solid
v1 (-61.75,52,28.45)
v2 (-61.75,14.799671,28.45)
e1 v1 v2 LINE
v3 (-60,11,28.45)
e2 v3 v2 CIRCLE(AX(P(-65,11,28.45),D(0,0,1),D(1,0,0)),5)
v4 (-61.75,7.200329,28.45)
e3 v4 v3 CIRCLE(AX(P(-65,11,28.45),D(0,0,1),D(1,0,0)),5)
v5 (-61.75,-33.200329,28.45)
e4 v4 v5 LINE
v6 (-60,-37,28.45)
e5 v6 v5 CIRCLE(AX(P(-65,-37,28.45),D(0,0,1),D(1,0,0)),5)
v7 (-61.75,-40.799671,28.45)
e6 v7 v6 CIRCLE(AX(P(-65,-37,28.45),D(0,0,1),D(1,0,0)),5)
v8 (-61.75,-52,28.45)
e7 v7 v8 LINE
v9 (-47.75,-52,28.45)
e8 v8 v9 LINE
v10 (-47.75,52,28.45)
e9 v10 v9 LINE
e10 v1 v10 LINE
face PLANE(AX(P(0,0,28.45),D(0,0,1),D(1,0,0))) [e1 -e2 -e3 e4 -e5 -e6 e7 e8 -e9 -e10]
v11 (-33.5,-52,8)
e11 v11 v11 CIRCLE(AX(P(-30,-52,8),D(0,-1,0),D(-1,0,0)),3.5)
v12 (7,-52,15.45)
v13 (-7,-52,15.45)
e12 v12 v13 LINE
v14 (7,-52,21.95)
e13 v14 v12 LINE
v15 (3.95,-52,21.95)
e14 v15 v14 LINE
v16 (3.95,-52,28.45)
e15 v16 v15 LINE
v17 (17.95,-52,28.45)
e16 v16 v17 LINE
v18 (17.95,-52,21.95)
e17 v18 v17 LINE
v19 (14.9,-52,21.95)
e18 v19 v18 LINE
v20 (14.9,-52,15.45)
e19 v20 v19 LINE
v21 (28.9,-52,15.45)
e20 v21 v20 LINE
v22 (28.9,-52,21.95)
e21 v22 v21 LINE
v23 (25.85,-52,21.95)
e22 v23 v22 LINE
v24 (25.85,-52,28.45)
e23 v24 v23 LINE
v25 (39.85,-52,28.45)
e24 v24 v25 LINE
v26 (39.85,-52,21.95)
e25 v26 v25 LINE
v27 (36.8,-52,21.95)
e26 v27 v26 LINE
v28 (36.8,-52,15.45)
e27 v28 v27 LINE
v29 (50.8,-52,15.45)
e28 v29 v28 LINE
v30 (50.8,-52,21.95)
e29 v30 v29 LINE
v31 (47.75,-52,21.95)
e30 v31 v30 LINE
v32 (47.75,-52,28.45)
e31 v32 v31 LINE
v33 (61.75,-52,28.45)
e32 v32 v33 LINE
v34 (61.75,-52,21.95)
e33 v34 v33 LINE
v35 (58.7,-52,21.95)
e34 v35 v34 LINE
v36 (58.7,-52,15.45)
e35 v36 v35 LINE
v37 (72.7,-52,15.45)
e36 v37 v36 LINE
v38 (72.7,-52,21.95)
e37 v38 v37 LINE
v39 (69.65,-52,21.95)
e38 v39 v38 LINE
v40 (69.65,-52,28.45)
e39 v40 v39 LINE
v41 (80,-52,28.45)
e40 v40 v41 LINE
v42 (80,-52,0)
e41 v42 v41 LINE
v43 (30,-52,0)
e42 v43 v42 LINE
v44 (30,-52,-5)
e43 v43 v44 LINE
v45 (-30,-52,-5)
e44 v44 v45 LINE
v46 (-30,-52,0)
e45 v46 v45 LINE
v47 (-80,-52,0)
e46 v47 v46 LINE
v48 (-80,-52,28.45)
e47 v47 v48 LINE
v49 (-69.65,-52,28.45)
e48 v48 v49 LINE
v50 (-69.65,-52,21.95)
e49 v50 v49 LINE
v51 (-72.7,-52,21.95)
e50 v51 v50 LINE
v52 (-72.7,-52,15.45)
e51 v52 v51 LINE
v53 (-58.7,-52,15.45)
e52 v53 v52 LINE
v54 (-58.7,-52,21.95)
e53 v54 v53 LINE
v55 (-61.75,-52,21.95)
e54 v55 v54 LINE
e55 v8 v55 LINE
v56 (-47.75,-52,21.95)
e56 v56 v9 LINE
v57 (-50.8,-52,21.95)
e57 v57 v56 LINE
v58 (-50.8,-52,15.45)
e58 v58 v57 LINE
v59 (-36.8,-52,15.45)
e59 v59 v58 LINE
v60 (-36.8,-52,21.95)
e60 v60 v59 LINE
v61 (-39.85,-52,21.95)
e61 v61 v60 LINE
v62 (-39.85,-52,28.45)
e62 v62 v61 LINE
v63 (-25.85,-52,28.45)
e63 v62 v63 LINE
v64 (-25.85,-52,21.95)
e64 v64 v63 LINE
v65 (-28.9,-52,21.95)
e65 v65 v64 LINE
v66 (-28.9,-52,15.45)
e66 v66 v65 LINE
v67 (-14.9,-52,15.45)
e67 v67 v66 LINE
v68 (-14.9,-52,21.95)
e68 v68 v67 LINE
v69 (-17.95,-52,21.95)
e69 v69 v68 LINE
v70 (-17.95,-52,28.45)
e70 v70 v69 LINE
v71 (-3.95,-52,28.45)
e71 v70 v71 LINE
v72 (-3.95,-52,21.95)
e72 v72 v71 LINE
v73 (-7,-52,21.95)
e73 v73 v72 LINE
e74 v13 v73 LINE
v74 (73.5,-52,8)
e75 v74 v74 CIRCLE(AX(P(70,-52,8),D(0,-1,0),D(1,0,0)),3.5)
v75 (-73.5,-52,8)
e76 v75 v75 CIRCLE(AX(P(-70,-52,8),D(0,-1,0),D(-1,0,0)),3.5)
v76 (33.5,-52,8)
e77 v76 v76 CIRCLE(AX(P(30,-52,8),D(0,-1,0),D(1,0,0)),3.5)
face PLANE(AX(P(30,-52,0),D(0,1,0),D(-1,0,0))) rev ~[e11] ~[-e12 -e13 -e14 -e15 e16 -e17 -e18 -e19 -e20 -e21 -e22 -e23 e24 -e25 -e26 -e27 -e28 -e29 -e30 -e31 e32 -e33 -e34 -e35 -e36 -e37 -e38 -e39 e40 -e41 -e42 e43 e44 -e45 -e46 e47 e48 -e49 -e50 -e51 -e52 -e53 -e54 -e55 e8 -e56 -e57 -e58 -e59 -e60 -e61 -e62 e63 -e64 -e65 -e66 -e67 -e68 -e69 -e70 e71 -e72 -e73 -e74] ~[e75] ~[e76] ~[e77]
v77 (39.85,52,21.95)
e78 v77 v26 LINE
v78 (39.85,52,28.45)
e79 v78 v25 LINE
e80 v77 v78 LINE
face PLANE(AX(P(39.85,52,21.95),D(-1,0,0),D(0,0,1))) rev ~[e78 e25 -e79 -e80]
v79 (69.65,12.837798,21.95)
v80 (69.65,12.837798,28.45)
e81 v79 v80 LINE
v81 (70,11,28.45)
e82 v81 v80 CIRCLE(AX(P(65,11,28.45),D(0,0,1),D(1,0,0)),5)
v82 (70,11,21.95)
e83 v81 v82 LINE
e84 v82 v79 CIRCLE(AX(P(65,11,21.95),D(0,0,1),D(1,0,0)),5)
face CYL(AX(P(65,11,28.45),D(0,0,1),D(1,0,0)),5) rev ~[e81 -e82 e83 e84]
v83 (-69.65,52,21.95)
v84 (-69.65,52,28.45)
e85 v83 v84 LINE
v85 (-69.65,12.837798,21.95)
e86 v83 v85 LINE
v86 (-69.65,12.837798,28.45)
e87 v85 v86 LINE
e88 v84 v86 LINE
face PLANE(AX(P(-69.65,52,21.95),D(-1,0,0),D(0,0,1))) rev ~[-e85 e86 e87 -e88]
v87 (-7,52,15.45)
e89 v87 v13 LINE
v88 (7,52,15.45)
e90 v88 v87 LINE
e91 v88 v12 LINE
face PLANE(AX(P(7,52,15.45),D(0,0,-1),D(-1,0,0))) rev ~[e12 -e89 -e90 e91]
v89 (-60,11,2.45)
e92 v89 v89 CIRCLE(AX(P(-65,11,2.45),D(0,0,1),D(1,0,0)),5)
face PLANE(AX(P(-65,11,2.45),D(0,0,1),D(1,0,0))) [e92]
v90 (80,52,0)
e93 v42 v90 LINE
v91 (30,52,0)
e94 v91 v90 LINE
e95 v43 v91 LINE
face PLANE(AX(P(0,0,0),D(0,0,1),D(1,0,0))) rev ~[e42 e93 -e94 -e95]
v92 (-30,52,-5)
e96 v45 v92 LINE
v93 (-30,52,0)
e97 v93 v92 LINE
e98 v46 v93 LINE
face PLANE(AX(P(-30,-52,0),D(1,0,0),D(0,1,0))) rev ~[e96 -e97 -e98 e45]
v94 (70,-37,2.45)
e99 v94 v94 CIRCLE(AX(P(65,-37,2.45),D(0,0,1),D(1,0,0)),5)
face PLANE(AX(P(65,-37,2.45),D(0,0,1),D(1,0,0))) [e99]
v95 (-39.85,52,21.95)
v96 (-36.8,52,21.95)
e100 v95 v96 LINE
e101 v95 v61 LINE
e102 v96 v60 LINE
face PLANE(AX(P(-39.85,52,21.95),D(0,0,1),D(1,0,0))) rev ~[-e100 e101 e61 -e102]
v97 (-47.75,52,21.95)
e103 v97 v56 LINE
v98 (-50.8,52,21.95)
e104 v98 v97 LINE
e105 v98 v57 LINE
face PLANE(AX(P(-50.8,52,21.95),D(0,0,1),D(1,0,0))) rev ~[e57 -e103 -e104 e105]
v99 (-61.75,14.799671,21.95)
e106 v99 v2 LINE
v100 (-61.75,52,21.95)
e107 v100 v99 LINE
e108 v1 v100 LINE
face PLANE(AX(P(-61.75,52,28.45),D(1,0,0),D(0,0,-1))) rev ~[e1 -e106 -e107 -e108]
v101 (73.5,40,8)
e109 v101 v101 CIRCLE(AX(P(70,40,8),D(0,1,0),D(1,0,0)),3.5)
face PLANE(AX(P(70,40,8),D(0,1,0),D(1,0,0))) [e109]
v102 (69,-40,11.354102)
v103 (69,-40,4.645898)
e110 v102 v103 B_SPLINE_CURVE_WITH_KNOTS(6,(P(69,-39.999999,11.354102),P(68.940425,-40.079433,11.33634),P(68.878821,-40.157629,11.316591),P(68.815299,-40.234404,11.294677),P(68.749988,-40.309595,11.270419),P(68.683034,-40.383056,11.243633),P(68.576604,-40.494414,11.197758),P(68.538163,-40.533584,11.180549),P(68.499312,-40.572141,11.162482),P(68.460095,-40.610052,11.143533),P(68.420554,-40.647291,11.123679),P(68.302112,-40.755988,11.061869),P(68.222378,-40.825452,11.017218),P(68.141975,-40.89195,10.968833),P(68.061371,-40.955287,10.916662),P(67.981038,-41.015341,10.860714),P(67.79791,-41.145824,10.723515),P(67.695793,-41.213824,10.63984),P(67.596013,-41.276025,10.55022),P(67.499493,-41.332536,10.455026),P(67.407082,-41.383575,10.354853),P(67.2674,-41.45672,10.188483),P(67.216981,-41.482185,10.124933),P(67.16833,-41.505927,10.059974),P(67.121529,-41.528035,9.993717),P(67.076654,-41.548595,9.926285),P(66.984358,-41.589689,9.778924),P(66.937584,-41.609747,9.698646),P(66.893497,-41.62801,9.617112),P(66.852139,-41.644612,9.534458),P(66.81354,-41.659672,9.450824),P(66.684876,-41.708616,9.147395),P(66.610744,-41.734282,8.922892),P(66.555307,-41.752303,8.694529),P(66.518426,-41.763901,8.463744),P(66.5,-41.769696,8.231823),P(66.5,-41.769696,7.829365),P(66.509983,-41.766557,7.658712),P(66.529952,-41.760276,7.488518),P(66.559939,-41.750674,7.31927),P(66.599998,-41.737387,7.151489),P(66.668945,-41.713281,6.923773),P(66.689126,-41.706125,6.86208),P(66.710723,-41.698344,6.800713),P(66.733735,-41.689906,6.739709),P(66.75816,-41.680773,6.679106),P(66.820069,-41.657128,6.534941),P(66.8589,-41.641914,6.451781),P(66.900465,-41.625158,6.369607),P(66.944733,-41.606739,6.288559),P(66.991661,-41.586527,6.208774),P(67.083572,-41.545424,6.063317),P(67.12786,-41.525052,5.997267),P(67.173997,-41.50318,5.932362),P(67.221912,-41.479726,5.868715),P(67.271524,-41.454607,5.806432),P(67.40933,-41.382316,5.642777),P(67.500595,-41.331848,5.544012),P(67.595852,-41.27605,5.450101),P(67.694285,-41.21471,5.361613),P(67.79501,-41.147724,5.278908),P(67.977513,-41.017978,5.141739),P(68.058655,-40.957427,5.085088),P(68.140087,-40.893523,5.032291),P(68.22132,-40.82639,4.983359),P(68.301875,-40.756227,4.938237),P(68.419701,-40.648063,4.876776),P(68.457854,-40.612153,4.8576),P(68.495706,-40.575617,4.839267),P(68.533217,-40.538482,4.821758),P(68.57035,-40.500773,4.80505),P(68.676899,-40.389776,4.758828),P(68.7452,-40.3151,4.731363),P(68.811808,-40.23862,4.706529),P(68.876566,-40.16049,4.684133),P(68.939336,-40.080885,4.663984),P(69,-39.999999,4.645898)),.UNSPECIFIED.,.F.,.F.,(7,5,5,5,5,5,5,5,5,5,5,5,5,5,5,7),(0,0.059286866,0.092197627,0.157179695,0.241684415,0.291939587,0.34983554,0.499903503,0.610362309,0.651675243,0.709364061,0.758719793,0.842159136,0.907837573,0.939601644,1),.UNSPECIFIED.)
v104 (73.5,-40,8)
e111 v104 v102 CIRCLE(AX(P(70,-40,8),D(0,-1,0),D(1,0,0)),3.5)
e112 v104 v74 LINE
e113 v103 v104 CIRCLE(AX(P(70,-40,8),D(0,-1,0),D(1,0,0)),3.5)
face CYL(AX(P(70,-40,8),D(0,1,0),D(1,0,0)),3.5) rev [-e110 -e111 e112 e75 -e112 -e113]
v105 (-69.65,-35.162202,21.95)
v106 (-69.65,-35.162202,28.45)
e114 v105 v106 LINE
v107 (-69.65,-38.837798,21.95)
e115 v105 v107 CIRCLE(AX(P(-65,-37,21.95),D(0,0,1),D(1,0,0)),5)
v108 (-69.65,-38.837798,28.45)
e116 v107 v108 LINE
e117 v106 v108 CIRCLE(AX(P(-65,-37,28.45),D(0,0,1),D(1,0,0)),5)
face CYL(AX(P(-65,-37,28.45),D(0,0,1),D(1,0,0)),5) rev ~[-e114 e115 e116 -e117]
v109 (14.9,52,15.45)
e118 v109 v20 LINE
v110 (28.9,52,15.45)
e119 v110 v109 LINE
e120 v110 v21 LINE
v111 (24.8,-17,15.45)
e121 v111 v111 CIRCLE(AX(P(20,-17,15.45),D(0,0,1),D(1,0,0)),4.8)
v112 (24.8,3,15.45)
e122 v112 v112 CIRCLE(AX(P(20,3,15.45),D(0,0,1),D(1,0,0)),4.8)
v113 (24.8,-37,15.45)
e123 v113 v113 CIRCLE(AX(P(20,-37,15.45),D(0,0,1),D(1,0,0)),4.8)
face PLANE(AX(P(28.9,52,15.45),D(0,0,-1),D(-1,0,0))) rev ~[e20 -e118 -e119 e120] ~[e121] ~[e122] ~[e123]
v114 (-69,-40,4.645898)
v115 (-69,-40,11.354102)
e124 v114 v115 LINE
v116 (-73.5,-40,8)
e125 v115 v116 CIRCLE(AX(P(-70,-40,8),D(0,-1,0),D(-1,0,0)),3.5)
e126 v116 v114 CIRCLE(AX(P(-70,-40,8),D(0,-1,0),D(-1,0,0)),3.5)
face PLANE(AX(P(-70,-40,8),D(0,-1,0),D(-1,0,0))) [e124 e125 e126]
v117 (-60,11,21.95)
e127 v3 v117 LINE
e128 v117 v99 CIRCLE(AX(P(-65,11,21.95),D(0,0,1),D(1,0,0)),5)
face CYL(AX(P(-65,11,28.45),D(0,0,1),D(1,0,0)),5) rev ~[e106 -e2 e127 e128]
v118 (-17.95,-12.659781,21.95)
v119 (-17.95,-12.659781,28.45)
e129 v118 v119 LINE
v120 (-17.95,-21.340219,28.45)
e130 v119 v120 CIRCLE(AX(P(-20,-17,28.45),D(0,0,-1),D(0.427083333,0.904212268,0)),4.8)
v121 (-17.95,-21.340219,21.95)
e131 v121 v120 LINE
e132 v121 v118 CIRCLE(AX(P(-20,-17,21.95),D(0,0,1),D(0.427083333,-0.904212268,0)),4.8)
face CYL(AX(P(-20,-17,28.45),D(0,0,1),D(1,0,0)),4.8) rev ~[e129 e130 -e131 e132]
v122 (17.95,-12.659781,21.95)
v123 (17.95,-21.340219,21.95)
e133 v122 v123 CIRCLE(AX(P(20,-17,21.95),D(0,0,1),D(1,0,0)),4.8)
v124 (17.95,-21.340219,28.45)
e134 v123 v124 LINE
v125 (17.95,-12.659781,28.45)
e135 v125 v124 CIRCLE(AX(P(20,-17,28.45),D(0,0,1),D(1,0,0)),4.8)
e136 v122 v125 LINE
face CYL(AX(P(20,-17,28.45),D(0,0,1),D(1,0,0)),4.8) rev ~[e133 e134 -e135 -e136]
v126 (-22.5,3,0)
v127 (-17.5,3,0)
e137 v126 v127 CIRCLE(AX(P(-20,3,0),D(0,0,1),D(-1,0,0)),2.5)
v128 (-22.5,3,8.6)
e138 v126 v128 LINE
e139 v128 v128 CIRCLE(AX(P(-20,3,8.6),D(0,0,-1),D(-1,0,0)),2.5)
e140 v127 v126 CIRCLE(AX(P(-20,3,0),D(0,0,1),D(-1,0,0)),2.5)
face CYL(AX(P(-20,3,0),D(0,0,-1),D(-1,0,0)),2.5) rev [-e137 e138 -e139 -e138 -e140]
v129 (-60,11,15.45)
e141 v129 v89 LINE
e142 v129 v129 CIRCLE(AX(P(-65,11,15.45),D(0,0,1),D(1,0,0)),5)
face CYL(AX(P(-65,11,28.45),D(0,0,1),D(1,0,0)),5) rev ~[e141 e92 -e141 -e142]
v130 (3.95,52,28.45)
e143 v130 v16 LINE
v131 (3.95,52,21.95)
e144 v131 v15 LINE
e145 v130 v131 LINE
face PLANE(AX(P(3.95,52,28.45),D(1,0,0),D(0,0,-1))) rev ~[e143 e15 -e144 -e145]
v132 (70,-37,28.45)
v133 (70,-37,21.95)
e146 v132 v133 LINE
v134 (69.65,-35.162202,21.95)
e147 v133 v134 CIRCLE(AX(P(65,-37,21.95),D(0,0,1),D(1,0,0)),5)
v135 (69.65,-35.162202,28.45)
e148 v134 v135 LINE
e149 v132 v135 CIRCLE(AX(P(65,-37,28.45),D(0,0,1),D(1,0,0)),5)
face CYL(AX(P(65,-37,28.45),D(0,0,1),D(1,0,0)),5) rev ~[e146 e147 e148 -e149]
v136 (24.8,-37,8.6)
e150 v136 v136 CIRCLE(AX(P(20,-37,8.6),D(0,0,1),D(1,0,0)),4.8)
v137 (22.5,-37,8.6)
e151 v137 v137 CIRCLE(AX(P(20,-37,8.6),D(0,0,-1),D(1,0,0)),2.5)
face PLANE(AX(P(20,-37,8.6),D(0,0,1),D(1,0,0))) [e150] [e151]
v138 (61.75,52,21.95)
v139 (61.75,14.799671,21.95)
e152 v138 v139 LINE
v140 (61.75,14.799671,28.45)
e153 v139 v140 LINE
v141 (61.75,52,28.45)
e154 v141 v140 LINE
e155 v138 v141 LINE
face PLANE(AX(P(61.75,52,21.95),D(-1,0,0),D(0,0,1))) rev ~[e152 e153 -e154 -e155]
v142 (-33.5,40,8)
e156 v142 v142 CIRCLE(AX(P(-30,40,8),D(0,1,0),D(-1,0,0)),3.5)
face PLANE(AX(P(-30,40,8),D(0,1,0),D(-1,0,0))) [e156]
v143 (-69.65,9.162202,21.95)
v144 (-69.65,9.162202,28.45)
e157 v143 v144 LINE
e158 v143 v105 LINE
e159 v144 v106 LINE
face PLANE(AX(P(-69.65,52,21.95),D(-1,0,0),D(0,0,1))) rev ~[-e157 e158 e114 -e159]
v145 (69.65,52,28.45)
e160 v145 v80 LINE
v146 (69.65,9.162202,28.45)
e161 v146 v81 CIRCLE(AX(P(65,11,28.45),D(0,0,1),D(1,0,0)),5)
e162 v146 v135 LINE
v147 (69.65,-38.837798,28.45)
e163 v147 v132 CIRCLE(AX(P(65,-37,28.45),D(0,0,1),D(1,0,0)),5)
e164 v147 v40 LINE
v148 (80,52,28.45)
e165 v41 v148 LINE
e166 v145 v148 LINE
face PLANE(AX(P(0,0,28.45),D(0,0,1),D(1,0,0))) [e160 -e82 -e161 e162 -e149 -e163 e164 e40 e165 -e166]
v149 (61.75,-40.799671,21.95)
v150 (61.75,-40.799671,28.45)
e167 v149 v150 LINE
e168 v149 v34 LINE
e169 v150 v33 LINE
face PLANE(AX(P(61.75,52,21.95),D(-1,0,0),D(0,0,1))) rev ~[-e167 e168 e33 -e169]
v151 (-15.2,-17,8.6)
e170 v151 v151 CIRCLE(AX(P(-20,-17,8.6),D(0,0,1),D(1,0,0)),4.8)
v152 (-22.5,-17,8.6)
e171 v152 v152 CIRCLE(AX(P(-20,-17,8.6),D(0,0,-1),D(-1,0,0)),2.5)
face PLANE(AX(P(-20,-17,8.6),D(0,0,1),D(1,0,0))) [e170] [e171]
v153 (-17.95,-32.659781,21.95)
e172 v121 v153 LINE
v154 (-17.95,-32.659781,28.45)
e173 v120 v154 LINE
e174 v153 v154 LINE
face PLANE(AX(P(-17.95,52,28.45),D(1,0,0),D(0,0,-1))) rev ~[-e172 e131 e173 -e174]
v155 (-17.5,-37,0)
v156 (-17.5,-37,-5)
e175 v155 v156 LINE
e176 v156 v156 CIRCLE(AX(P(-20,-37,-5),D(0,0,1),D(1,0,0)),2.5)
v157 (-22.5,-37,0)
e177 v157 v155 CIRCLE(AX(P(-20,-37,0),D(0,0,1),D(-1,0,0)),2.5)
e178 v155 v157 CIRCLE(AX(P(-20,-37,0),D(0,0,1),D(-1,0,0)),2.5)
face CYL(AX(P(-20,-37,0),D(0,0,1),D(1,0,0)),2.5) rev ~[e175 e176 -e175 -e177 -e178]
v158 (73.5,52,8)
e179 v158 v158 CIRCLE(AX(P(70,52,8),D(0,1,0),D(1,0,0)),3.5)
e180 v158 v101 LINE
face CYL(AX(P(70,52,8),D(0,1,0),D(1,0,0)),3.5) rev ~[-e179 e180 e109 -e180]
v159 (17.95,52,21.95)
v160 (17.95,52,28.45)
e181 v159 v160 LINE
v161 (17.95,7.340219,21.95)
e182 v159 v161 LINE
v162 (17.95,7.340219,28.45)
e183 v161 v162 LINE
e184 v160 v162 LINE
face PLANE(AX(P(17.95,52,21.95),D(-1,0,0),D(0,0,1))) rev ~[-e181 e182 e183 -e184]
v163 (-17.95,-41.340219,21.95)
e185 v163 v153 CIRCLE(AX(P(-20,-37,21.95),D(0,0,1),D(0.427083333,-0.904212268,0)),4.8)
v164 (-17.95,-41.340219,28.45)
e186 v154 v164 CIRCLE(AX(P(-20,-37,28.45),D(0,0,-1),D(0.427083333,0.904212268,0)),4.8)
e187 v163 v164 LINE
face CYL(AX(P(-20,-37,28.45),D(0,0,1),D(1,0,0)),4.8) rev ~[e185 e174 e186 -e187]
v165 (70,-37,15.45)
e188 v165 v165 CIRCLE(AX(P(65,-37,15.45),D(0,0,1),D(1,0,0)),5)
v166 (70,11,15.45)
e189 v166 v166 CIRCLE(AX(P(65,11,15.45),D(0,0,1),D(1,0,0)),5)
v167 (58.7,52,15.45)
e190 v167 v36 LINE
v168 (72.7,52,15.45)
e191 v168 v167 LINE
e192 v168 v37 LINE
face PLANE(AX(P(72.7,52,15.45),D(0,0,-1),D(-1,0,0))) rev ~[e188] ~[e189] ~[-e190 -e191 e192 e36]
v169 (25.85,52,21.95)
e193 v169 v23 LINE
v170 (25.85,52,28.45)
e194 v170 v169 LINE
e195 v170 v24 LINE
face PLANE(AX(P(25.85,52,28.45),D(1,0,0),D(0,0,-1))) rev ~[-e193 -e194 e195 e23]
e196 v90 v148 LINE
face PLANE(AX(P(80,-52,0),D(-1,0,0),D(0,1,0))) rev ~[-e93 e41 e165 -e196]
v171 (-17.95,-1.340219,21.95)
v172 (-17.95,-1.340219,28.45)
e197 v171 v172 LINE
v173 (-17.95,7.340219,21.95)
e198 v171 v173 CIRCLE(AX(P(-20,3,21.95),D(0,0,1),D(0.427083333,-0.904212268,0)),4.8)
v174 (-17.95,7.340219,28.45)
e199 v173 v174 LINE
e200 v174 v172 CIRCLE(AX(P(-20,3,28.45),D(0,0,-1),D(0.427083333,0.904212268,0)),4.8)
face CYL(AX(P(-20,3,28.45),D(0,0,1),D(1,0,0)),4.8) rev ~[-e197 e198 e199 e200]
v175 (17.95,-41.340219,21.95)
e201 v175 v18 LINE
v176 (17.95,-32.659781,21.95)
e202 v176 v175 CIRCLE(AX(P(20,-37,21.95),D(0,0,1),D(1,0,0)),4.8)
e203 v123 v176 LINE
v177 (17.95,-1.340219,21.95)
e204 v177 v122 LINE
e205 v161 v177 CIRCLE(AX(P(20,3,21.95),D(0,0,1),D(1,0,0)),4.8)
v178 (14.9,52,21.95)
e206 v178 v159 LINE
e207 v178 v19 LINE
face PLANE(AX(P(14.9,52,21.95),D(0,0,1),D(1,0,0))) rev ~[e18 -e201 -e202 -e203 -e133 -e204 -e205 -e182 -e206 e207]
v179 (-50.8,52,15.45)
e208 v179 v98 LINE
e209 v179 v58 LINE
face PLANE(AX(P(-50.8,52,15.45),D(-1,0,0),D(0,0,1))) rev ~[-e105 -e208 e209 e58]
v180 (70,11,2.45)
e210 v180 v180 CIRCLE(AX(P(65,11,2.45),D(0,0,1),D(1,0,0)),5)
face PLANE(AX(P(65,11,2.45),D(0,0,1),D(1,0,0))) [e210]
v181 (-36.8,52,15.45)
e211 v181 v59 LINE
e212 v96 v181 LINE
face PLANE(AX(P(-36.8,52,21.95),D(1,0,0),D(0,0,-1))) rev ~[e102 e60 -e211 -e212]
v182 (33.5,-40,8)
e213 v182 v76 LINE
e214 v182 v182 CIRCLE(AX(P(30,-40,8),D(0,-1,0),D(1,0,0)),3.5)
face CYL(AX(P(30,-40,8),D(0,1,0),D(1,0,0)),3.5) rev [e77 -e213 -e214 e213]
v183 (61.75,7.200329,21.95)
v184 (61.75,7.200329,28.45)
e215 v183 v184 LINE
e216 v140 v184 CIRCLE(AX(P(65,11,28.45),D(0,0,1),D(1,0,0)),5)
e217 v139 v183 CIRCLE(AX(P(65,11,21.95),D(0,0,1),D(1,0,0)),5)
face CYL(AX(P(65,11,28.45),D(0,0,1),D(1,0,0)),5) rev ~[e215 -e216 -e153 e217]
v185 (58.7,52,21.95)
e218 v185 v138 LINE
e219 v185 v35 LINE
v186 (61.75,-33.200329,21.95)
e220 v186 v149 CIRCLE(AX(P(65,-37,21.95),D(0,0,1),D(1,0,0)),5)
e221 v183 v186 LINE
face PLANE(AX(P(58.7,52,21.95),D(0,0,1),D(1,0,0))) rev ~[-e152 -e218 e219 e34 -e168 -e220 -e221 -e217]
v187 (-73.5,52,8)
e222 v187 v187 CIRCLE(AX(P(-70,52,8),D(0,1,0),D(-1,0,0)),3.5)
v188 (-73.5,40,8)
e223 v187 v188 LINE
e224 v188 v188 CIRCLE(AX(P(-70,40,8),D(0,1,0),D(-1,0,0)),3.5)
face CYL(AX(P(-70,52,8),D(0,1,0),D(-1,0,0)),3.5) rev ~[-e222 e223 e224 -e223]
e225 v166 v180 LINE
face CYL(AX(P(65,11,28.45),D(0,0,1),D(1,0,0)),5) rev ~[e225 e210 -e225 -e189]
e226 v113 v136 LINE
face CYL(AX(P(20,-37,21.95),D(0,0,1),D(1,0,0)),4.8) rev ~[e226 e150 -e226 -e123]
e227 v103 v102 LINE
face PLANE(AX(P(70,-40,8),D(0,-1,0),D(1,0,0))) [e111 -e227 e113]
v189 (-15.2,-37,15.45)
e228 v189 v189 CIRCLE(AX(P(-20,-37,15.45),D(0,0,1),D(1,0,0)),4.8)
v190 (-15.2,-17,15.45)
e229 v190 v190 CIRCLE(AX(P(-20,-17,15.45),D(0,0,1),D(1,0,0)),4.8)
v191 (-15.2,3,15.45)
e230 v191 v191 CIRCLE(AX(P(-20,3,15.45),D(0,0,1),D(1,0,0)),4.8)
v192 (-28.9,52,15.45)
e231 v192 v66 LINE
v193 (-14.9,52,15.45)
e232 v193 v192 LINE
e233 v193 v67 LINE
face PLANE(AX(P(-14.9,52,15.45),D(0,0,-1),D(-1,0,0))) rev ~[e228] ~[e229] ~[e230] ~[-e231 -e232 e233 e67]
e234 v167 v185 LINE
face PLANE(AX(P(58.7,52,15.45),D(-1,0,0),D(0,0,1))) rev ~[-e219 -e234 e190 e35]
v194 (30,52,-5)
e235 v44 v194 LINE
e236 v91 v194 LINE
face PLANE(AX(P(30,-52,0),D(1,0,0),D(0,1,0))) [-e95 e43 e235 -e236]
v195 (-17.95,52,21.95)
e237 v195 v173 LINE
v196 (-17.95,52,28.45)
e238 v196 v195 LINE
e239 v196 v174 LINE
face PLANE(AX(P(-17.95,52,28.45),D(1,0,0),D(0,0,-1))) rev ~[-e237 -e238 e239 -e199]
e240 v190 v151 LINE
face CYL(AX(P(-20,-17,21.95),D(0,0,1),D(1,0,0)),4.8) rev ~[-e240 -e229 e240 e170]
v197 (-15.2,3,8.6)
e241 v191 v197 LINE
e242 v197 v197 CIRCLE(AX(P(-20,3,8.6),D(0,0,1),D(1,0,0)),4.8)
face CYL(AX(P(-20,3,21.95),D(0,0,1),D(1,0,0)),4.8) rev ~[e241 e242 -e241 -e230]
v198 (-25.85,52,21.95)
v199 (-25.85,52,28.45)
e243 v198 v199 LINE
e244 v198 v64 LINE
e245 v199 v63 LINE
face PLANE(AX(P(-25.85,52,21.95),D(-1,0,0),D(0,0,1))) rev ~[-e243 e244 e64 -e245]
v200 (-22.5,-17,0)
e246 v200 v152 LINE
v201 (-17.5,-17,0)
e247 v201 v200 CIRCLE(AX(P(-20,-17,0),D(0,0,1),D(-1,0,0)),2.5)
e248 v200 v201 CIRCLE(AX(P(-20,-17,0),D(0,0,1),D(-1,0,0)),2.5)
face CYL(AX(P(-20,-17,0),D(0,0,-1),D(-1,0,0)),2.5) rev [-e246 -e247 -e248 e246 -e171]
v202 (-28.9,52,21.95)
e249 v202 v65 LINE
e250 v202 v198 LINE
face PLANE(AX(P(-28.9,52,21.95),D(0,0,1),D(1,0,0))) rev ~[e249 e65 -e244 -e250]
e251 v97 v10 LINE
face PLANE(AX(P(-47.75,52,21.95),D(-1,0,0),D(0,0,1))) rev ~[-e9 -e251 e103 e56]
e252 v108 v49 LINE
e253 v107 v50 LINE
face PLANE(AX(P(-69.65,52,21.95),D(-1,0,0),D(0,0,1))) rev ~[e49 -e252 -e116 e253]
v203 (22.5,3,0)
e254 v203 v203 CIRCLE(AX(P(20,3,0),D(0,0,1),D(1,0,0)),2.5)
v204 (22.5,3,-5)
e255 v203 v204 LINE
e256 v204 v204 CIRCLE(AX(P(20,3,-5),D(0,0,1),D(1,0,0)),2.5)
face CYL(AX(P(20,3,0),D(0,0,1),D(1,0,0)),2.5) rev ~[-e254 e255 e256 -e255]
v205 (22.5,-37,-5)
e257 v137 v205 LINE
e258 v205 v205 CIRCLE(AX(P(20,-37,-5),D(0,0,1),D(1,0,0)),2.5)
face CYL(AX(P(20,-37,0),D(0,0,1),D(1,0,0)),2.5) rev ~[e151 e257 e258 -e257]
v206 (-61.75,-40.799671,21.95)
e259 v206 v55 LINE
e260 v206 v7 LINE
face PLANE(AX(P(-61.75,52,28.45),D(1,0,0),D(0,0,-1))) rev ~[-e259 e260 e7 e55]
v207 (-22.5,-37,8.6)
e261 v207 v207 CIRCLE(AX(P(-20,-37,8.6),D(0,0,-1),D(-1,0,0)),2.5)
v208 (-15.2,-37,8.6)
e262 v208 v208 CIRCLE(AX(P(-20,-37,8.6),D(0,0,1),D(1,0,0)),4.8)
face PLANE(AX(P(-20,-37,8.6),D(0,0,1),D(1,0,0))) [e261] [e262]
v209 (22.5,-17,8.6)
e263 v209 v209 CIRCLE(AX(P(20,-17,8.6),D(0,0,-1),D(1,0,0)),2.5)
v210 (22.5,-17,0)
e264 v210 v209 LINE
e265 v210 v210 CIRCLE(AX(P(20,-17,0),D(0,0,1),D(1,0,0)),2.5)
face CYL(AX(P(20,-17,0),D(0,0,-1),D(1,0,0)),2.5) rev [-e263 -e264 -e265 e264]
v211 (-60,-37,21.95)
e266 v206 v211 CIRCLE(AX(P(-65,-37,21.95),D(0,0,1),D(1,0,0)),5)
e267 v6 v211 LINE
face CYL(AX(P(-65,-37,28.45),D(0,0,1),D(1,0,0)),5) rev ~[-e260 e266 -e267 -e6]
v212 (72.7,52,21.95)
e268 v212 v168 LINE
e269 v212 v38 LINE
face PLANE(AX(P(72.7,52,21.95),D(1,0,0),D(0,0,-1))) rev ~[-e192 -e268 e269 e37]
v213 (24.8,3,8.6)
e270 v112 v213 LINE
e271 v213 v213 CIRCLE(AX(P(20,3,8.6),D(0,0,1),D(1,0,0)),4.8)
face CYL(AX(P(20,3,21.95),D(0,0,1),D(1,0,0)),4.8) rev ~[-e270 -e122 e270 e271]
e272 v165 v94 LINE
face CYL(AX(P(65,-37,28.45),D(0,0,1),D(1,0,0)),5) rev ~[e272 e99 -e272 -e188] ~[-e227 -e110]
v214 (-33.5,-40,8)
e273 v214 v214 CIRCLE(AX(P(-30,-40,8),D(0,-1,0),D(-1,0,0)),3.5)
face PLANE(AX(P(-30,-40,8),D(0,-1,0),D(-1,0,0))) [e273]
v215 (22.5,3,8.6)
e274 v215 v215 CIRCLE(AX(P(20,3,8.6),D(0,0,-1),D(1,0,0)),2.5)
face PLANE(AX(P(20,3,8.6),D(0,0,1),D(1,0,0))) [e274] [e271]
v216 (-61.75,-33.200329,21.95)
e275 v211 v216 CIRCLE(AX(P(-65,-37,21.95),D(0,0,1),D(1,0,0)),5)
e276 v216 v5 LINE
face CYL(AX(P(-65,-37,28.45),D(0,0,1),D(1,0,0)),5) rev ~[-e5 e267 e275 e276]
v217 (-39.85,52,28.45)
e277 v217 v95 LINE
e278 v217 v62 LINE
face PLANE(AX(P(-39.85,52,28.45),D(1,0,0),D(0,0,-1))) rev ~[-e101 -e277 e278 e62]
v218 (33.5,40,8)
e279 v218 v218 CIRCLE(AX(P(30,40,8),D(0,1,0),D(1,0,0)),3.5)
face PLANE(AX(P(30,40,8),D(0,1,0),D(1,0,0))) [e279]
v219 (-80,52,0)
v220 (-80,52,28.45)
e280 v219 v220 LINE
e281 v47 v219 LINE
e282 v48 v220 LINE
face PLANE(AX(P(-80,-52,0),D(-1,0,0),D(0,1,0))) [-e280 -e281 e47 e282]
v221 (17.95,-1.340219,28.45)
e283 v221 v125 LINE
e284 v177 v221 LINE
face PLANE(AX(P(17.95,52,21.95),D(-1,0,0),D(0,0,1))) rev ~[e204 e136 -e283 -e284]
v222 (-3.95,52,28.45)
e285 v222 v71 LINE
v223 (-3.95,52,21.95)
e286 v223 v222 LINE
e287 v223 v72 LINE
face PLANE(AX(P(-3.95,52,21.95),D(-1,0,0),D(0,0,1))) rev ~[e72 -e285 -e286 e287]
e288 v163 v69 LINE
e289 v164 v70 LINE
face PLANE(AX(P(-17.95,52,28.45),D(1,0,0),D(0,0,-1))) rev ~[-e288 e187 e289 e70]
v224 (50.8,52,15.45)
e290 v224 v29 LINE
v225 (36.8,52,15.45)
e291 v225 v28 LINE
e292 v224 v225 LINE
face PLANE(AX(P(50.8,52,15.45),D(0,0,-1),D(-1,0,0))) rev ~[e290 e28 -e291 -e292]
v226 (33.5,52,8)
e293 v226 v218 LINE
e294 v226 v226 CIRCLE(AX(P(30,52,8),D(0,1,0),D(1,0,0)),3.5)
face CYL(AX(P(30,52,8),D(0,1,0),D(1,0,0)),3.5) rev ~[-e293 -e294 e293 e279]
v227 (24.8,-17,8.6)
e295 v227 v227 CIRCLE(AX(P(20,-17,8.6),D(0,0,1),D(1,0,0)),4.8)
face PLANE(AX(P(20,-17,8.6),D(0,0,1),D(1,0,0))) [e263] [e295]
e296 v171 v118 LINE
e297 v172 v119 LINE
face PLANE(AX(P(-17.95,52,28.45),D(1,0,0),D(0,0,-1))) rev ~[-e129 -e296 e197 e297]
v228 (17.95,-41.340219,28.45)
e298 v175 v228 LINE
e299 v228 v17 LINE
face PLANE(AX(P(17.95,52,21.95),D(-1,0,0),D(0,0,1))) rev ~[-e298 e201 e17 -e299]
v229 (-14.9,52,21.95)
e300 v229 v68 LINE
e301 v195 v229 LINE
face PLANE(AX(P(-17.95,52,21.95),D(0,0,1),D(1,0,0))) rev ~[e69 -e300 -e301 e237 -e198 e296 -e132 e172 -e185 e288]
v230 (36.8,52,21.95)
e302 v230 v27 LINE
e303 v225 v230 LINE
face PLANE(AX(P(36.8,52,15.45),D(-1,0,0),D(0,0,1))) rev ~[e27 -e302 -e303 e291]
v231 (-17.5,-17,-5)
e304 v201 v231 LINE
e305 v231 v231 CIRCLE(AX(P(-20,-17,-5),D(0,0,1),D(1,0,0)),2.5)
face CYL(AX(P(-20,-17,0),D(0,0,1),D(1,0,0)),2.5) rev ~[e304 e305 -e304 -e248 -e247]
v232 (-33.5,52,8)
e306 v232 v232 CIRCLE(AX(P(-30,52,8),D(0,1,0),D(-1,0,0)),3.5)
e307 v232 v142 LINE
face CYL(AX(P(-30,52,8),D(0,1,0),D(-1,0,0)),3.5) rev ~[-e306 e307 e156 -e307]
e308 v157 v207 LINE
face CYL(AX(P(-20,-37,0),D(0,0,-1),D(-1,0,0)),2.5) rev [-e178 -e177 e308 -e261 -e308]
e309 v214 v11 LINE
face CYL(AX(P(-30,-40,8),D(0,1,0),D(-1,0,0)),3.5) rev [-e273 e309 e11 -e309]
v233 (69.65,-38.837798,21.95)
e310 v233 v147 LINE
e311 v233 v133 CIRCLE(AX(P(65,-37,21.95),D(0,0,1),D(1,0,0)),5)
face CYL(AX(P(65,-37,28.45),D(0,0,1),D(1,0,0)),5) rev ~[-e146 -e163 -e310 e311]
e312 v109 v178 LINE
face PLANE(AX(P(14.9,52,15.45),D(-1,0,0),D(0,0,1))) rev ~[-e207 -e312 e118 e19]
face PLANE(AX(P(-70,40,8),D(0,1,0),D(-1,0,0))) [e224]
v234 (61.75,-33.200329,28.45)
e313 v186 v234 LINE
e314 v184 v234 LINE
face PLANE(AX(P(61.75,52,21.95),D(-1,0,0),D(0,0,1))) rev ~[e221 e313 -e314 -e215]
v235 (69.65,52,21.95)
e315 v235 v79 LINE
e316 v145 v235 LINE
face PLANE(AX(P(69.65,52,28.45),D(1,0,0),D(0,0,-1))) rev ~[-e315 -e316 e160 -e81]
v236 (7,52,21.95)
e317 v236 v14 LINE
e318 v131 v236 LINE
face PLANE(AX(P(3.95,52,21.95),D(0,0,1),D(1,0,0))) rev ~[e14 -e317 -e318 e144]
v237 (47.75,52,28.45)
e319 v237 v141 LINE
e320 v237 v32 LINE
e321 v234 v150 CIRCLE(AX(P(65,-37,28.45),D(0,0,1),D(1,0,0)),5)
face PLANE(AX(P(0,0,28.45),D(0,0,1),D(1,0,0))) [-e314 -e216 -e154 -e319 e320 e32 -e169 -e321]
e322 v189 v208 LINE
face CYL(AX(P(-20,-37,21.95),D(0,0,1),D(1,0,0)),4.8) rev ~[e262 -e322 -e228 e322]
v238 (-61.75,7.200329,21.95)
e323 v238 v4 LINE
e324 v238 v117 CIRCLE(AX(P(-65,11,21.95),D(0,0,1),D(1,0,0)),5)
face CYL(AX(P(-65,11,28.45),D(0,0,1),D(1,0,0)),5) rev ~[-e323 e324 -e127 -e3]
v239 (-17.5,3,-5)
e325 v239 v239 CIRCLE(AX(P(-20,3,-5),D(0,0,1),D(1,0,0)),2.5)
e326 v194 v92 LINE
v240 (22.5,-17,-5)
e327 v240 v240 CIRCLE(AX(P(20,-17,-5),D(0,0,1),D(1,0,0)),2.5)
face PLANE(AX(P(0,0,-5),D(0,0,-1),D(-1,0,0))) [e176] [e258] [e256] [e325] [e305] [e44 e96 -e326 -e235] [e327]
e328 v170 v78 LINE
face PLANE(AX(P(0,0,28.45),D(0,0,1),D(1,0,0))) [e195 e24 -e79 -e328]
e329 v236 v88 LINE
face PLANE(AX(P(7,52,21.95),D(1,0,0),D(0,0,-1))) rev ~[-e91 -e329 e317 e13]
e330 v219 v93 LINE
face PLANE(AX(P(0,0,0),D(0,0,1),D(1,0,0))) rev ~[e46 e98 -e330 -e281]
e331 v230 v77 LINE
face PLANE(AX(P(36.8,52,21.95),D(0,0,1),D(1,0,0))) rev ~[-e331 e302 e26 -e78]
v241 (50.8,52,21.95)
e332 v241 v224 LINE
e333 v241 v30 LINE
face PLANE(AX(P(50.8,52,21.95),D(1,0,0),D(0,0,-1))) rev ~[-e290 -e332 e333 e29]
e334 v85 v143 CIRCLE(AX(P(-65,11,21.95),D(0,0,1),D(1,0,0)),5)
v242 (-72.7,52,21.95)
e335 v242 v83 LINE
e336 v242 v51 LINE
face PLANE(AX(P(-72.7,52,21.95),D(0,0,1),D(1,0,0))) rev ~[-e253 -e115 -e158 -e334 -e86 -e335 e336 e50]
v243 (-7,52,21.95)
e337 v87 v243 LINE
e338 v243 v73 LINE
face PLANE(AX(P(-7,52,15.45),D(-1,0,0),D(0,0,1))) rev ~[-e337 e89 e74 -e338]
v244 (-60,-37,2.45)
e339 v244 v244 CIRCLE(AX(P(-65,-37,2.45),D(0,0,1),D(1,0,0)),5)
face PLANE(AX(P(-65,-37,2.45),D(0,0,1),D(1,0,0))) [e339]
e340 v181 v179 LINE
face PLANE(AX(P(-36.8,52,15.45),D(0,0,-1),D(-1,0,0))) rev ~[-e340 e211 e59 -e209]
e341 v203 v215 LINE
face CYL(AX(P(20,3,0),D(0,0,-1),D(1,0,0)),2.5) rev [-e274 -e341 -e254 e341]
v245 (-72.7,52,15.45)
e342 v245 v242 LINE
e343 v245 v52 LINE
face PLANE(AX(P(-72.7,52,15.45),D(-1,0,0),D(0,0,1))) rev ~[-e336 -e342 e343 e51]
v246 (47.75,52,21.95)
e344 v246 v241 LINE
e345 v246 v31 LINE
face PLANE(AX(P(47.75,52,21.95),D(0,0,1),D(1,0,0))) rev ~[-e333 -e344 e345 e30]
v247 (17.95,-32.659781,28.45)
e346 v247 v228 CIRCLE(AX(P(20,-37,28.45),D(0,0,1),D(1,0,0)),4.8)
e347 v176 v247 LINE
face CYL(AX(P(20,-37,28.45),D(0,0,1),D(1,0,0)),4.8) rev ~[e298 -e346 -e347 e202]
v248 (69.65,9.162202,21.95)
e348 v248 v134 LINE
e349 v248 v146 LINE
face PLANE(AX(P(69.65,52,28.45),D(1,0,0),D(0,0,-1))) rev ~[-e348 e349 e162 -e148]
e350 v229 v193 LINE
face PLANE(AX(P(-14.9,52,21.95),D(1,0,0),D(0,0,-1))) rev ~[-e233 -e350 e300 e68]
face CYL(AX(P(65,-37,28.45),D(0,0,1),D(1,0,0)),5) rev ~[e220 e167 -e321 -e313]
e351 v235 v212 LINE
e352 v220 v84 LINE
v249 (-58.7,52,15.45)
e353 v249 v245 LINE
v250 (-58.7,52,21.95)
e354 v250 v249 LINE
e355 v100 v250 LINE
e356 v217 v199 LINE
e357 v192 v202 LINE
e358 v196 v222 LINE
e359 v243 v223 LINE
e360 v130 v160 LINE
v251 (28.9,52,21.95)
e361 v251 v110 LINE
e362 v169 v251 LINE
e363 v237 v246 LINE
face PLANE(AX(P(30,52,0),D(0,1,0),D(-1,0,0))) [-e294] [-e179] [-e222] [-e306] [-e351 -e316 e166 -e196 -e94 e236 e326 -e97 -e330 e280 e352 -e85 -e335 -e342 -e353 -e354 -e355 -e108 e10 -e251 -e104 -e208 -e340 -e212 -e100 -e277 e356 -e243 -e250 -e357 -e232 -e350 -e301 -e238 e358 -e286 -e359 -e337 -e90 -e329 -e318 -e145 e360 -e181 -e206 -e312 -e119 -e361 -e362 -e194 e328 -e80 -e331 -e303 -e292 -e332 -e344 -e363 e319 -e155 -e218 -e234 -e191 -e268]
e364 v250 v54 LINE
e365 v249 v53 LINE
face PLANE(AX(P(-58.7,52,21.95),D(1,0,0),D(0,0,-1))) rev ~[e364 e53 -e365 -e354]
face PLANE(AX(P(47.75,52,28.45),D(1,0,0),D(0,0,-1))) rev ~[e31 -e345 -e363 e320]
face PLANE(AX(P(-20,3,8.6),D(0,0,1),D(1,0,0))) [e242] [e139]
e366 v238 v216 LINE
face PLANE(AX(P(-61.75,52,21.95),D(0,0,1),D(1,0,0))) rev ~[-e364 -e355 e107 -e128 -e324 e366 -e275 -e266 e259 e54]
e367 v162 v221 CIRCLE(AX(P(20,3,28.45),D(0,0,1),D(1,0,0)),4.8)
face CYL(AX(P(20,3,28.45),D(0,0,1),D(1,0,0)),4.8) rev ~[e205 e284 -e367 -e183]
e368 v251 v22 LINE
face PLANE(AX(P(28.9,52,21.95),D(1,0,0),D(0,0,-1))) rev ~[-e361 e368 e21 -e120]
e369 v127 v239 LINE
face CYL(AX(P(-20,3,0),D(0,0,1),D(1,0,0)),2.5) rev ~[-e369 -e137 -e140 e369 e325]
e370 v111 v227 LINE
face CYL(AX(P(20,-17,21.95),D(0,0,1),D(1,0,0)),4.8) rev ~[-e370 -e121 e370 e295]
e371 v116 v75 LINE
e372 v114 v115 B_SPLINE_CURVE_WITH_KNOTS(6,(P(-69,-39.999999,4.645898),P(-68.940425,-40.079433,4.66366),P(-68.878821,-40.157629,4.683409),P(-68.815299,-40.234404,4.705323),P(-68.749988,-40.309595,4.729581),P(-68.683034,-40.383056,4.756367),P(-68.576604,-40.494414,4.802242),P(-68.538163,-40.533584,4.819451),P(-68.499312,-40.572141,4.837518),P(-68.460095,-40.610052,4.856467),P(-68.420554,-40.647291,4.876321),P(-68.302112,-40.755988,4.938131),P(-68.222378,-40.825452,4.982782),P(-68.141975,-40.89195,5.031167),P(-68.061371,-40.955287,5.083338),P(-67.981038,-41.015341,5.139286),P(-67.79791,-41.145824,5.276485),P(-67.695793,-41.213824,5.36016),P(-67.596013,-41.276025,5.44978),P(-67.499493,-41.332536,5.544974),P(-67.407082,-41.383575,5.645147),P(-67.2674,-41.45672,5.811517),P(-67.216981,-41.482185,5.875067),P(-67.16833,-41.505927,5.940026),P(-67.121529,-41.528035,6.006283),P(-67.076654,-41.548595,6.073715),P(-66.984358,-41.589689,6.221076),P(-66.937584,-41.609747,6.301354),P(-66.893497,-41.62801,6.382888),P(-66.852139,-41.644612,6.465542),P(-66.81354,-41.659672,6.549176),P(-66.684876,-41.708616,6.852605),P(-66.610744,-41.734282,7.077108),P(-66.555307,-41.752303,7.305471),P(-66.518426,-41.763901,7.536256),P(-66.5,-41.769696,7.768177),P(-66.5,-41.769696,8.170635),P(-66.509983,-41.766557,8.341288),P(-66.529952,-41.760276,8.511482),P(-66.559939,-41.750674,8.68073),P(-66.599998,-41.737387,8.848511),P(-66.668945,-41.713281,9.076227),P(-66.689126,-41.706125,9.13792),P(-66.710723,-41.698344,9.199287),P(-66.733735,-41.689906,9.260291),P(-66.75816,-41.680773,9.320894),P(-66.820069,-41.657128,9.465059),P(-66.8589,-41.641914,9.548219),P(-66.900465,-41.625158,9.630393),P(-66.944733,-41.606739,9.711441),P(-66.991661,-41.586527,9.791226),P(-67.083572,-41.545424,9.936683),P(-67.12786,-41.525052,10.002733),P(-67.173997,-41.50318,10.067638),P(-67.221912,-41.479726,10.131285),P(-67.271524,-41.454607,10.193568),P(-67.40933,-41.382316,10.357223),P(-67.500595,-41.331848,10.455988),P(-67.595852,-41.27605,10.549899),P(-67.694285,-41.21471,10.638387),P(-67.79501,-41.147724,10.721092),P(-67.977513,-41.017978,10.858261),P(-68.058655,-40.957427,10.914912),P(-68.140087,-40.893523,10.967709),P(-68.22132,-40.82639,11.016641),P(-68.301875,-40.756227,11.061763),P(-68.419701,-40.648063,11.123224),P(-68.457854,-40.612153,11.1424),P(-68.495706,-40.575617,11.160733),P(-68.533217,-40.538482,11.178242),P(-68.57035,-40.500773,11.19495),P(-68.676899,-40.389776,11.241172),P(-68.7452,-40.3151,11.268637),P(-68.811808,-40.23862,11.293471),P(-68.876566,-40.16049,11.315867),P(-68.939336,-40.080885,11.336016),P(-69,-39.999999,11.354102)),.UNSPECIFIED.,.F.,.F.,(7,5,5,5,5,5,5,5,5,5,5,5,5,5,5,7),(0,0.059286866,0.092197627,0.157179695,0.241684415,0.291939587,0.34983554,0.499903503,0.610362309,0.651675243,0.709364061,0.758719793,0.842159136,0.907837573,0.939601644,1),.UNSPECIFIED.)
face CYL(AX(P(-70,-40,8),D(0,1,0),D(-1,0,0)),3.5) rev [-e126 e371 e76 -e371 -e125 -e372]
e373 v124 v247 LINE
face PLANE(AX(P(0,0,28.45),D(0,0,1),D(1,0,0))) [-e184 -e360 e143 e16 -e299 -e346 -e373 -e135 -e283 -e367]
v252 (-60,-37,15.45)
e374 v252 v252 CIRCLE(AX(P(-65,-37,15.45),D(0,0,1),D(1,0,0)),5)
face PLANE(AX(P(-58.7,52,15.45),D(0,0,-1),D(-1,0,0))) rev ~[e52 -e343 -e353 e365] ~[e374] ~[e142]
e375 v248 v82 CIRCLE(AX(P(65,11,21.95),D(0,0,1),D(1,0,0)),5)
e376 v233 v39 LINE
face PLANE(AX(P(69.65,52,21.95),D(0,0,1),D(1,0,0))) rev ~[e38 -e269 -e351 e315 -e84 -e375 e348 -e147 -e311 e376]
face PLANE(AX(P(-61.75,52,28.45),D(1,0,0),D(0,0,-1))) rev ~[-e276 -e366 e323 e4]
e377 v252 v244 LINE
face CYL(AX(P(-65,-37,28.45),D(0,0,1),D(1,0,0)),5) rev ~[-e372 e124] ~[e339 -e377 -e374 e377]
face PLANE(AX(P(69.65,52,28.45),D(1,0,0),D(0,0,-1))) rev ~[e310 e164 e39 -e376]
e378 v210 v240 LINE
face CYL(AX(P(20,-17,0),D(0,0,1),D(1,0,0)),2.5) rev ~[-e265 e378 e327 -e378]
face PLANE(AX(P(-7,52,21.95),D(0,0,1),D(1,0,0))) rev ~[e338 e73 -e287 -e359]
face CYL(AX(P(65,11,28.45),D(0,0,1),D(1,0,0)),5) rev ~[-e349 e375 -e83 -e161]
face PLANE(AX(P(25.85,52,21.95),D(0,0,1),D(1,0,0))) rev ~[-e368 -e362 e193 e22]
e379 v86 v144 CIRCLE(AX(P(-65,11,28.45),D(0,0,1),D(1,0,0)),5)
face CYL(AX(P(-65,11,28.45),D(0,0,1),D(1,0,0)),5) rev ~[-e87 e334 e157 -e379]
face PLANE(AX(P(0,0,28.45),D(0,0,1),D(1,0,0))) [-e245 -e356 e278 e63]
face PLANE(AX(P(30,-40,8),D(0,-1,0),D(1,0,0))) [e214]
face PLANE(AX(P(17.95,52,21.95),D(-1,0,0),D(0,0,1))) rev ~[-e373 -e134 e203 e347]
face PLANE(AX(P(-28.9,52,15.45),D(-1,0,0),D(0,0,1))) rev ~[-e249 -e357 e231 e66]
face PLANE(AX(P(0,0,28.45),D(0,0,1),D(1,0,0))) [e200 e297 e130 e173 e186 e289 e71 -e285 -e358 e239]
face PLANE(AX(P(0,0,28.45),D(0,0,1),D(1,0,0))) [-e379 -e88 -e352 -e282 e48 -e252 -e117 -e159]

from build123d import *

# Parameters (mm, degrees)
SKETCH1_W           = 160
SKETCH1_H           = 104
SKETCH1_R           = 2.5
BOSS_EXTRUDE1_DEPTH = 28.45
CUT_EXTRUDE1_DEPTH  = 135.258714801
SKETCH5_W           = 60
SKETCH5_H           = 104
BOSS_EXTRUDE2_DEPTH = 5
SKETCH3_R           = 4.8
CUT_EXTRUDE2_DEPTH  = 7
CUT_EXTRUDE3_START  = 6.5
SKETCH4_R           = 4.8
CUT_EXTRUDE3_DEPTH  = 13.35
SKETCH6_R           = 2.5
CUT_EXTRUDE4_DEPTH  = 100.566071028
SKETCH7_R           = 3.5
CUT_EXTRUDE5_DEPTH  = 12
CUT_EXTRUDE6_START  = -12
SKETCH8_R           = 3.5
CUT_EXTRUDE6_DEPTH  = 12
SKETCH9_R           = 5
CUT_EXTRUDE7_DEPTH  = 26


with BuildPart() as part:
    # Sketch1 → Boss-Extrude1 (new body)
    with BuildSketch(Plane.XY):
        Rectangle(SKETCH1_W, SKETCH1_H)
        with Locations((20, -37)):
            Circle(SKETCH1_R, mode=Mode.SUBTRACT)
        with Locations(Location((-20, -37, 0), (0, 0, 180))):
            Circle(SKETCH1_R, mode=Mode.SUBTRACT)
        with Locations((20, -17)):
            Circle(SKETCH1_R, mode=Mode.SUBTRACT)
        with Locations((20, 3)):
            Circle(SKETCH1_R, mode=Mode.SUBTRACT)
        with Locations(Location((-20, 3, 0), (0, 0, 180))):
            Circle(SKETCH1_R, mode=Mode.SUBTRACT)
        with Locations(Location((-20, -17, 0), (0, 0, 180))):
            Circle(SKETCH1_R, mode=Mode.SUBTRACT)
    extrude(amount=BOSS_EXTRUDE1_DEPTH)

    # Sketch2 → Cut-Extrude1 (cut, through all)
    with BuildSketch(Plane(origin=(0, 52, 0), x_dir=(1, 0, 0), z_dir=(0, 1, 0))):
        Polygon((-3.95, -28.45), (3.95, -28.45), (3.95, -21.95), (7, -21.95), (7, -15.45), (-7, -15.45), (-7, -21.95), (-3.95, -21.95), align=None)
        Polygon((25.85, -28.45), (25.85, -21.95), (28.9, -21.95), (28.9, -15.45), (14.9, -15.45), (14.9, -21.95), (17.95, -21.95), (17.95, -28.45), align=None)
        Polygon((47.75, -28.45), (47.75, -21.95), (50.8, -21.95), (50.8, -15.45), (36.8, -15.45), (36.8, -21.95), (39.85, -21.95), (39.85, -28.45), align=None)
        Polygon((69.65, -28.45), (69.65, -21.95), (72.7, -21.95), (72.7, -15.45), (58.7, -15.45), (58.7, -21.95), (61.75, -21.95), (61.75, -28.45), align=None)
        Polygon((-28.9, -15.45), (-28.9, -21.95), (-25.85, -21.95), (-25.85, -28.45), (-17.95, -28.45), (-17.95, -21.95), (-14.9, -21.95), (-14.9, -15.45), align=None)
        Polygon((-50.8, -15.45), (-50.8, -21.95), (-47.75, -21.95), (-47.75, -28.45), (-39.85, -28.45), (-39.85, -21.95), (-36.8, -21.95), (-36.8, -15.45), align=None)
        Polygon((-72.7, -15.45), (-72.7, -21.95), (-69.65, -21.95), (-69.65, -28.45), (-61.75, -28.45), (-61.75, -21.95), (-58.7, -21.95), (-58.7, -15.45), align=None)
    extrude(amount=-CUT_EXTRUDE1_DEPTH, mode=Mode.SUBTRACT)

    # Sketch5 → Boss-Extrude2 (add)
    with BuildSketch(Plane(origin=(0, 0, 0), x_dir=(-1, 0, 0), z_dir=(0, 0, -1))):
        Rectangle(SKETCH5_W, SKETCH5_H)
    extrude(amount=BOSS_EXTRUDE2_DEPTH)

    # Sketch3 → Cut-Extrude2 (cut)
    with BuildSketch(Plane.XY.offset(28.45)):
        with Locations((-20, 3)):
            Circle(SKETCH3_R)
        with Locations((20, 3)):
            Circle(SKETCH3_R)
        with Locations((-20, -17)):
            Circle(SKETCH3_R)
        with Locations((20, -17)):
            Circle(SKETCH3_R)
        with Locations((-20, -37)):
            Circle(SKETCH3_R)
        with Locations((20, -37)):
            Circle(SKETCH3_R)
    extrude(amount=-CUT_EXTRUDE2_DEPTH, mode=Mode.SUBTRACT)

    # Sketch4 → Cut-Extrude3 (cut)
    with BuildSketch(Plane.XY.offset(15.45).offset(CUT_EXTRUDE3_START)):
        with Locations((-20, 3)):
            Circle(SKETCH4_R)
        with Locations((20, 3)):
            Circle(SKETCH4_R)
        with Locations((-20, -17)):
            Circle(SKETCH4_R)
        with Locations((20, -17)):
            Circle(SKETCH4_R)
        with Locations((-20, -37)):
            Circle(SKETCH4_R)
        with Locations((20, -37)):
            Circle(SKETCH4_R)
    extrude(amount=-CUT_EXTRUDE3_DEPTH, mode=Mode.SUBTRACT)

    # Sketch6 → Cut-Extrude4 (cut, through all)
    with BuildSketch(Plane.XY):
        with Locations((-20, 3)):
            Circle(SKETCH6_R)
        with Locations((20, 3)):
            Circle(SKETCH6_R)
        with Locations((-20, -17)):
            Circle(SKETCH6_R)
        with Locations((20, -17)):
            Circle(SKETCH6_R)
        with Locations((20, -37)):
            Circle(SKETCH6_R)
        with Locations((-20, -37)):
            Circle(SKETCH6_R)
    extrude(amount=-CUT_EXTRUDE4_DEPTH, mode=Mode.SUBTRACT)

    # Sketch7 → Cut-Extrude5 (cut)
    with BuildSketch(Plane(origin=(0, 52, 0), x_dir=(1, 0, 0), z_dir=(0, 1, 0))):
        with Locations(Location((-70, -8, 0), (0, 0, 180))):
            Circle(SKETCH7_R)
        with Locations(Location((-30, -8, 0), (0, 0, 180))):
            Circle(SKETCH7_R)
        with Locations((70, -8)):
            Circle(SKETCH7_R)
        with Locations((30, -8)):
            Circle(SKETCH7_R)
    extrude(amount=-CUT_EXTRUDE5_DEPTH, mode=Mode.SUBTRACT)

    # Sketch8 → Cut-Extrude6 (cut)
    with BuildSketch(Plane.XZ.offset(52).offset(CUT_EXTRUDE6_START)):
        with Locations((70, 8)):
            Circle(SKETCH8_R)
        with Locations((30, 8)):
            Circle(SKETCH8_R)
        with Locations(Location((-30, 8, 0), (0, 0, 180))):
            Circle(SKETCH8_R)
        with Locations(Location((-70, 8, 0), (0, 0, 180))):
            Circle(SKETCH8_R)
    extrude(amount=CUT_EXTRUDE6_DEPTH, mode=Mode.SUBTRACT)

    # Sketch9 → Cut-Extrude7 (cut)
    with BuildSketch(Plane.XY.offset(28.45)):
        with Locations((-65, 11)):
            Circle(SKETCH9_R)
        with Locations((-65, -37)):
            Circle(SKETCH9_R)
        with Locations((65, -37)):
            Circle(SKETCH9_R)
        with Locations((65, 11)):
            Circle(SKETCH9_R)
    extrude(amount=-CUT_EXTRUDE7_DEPTH, mode=Mode.SUBTRACT)


solid = part.part
